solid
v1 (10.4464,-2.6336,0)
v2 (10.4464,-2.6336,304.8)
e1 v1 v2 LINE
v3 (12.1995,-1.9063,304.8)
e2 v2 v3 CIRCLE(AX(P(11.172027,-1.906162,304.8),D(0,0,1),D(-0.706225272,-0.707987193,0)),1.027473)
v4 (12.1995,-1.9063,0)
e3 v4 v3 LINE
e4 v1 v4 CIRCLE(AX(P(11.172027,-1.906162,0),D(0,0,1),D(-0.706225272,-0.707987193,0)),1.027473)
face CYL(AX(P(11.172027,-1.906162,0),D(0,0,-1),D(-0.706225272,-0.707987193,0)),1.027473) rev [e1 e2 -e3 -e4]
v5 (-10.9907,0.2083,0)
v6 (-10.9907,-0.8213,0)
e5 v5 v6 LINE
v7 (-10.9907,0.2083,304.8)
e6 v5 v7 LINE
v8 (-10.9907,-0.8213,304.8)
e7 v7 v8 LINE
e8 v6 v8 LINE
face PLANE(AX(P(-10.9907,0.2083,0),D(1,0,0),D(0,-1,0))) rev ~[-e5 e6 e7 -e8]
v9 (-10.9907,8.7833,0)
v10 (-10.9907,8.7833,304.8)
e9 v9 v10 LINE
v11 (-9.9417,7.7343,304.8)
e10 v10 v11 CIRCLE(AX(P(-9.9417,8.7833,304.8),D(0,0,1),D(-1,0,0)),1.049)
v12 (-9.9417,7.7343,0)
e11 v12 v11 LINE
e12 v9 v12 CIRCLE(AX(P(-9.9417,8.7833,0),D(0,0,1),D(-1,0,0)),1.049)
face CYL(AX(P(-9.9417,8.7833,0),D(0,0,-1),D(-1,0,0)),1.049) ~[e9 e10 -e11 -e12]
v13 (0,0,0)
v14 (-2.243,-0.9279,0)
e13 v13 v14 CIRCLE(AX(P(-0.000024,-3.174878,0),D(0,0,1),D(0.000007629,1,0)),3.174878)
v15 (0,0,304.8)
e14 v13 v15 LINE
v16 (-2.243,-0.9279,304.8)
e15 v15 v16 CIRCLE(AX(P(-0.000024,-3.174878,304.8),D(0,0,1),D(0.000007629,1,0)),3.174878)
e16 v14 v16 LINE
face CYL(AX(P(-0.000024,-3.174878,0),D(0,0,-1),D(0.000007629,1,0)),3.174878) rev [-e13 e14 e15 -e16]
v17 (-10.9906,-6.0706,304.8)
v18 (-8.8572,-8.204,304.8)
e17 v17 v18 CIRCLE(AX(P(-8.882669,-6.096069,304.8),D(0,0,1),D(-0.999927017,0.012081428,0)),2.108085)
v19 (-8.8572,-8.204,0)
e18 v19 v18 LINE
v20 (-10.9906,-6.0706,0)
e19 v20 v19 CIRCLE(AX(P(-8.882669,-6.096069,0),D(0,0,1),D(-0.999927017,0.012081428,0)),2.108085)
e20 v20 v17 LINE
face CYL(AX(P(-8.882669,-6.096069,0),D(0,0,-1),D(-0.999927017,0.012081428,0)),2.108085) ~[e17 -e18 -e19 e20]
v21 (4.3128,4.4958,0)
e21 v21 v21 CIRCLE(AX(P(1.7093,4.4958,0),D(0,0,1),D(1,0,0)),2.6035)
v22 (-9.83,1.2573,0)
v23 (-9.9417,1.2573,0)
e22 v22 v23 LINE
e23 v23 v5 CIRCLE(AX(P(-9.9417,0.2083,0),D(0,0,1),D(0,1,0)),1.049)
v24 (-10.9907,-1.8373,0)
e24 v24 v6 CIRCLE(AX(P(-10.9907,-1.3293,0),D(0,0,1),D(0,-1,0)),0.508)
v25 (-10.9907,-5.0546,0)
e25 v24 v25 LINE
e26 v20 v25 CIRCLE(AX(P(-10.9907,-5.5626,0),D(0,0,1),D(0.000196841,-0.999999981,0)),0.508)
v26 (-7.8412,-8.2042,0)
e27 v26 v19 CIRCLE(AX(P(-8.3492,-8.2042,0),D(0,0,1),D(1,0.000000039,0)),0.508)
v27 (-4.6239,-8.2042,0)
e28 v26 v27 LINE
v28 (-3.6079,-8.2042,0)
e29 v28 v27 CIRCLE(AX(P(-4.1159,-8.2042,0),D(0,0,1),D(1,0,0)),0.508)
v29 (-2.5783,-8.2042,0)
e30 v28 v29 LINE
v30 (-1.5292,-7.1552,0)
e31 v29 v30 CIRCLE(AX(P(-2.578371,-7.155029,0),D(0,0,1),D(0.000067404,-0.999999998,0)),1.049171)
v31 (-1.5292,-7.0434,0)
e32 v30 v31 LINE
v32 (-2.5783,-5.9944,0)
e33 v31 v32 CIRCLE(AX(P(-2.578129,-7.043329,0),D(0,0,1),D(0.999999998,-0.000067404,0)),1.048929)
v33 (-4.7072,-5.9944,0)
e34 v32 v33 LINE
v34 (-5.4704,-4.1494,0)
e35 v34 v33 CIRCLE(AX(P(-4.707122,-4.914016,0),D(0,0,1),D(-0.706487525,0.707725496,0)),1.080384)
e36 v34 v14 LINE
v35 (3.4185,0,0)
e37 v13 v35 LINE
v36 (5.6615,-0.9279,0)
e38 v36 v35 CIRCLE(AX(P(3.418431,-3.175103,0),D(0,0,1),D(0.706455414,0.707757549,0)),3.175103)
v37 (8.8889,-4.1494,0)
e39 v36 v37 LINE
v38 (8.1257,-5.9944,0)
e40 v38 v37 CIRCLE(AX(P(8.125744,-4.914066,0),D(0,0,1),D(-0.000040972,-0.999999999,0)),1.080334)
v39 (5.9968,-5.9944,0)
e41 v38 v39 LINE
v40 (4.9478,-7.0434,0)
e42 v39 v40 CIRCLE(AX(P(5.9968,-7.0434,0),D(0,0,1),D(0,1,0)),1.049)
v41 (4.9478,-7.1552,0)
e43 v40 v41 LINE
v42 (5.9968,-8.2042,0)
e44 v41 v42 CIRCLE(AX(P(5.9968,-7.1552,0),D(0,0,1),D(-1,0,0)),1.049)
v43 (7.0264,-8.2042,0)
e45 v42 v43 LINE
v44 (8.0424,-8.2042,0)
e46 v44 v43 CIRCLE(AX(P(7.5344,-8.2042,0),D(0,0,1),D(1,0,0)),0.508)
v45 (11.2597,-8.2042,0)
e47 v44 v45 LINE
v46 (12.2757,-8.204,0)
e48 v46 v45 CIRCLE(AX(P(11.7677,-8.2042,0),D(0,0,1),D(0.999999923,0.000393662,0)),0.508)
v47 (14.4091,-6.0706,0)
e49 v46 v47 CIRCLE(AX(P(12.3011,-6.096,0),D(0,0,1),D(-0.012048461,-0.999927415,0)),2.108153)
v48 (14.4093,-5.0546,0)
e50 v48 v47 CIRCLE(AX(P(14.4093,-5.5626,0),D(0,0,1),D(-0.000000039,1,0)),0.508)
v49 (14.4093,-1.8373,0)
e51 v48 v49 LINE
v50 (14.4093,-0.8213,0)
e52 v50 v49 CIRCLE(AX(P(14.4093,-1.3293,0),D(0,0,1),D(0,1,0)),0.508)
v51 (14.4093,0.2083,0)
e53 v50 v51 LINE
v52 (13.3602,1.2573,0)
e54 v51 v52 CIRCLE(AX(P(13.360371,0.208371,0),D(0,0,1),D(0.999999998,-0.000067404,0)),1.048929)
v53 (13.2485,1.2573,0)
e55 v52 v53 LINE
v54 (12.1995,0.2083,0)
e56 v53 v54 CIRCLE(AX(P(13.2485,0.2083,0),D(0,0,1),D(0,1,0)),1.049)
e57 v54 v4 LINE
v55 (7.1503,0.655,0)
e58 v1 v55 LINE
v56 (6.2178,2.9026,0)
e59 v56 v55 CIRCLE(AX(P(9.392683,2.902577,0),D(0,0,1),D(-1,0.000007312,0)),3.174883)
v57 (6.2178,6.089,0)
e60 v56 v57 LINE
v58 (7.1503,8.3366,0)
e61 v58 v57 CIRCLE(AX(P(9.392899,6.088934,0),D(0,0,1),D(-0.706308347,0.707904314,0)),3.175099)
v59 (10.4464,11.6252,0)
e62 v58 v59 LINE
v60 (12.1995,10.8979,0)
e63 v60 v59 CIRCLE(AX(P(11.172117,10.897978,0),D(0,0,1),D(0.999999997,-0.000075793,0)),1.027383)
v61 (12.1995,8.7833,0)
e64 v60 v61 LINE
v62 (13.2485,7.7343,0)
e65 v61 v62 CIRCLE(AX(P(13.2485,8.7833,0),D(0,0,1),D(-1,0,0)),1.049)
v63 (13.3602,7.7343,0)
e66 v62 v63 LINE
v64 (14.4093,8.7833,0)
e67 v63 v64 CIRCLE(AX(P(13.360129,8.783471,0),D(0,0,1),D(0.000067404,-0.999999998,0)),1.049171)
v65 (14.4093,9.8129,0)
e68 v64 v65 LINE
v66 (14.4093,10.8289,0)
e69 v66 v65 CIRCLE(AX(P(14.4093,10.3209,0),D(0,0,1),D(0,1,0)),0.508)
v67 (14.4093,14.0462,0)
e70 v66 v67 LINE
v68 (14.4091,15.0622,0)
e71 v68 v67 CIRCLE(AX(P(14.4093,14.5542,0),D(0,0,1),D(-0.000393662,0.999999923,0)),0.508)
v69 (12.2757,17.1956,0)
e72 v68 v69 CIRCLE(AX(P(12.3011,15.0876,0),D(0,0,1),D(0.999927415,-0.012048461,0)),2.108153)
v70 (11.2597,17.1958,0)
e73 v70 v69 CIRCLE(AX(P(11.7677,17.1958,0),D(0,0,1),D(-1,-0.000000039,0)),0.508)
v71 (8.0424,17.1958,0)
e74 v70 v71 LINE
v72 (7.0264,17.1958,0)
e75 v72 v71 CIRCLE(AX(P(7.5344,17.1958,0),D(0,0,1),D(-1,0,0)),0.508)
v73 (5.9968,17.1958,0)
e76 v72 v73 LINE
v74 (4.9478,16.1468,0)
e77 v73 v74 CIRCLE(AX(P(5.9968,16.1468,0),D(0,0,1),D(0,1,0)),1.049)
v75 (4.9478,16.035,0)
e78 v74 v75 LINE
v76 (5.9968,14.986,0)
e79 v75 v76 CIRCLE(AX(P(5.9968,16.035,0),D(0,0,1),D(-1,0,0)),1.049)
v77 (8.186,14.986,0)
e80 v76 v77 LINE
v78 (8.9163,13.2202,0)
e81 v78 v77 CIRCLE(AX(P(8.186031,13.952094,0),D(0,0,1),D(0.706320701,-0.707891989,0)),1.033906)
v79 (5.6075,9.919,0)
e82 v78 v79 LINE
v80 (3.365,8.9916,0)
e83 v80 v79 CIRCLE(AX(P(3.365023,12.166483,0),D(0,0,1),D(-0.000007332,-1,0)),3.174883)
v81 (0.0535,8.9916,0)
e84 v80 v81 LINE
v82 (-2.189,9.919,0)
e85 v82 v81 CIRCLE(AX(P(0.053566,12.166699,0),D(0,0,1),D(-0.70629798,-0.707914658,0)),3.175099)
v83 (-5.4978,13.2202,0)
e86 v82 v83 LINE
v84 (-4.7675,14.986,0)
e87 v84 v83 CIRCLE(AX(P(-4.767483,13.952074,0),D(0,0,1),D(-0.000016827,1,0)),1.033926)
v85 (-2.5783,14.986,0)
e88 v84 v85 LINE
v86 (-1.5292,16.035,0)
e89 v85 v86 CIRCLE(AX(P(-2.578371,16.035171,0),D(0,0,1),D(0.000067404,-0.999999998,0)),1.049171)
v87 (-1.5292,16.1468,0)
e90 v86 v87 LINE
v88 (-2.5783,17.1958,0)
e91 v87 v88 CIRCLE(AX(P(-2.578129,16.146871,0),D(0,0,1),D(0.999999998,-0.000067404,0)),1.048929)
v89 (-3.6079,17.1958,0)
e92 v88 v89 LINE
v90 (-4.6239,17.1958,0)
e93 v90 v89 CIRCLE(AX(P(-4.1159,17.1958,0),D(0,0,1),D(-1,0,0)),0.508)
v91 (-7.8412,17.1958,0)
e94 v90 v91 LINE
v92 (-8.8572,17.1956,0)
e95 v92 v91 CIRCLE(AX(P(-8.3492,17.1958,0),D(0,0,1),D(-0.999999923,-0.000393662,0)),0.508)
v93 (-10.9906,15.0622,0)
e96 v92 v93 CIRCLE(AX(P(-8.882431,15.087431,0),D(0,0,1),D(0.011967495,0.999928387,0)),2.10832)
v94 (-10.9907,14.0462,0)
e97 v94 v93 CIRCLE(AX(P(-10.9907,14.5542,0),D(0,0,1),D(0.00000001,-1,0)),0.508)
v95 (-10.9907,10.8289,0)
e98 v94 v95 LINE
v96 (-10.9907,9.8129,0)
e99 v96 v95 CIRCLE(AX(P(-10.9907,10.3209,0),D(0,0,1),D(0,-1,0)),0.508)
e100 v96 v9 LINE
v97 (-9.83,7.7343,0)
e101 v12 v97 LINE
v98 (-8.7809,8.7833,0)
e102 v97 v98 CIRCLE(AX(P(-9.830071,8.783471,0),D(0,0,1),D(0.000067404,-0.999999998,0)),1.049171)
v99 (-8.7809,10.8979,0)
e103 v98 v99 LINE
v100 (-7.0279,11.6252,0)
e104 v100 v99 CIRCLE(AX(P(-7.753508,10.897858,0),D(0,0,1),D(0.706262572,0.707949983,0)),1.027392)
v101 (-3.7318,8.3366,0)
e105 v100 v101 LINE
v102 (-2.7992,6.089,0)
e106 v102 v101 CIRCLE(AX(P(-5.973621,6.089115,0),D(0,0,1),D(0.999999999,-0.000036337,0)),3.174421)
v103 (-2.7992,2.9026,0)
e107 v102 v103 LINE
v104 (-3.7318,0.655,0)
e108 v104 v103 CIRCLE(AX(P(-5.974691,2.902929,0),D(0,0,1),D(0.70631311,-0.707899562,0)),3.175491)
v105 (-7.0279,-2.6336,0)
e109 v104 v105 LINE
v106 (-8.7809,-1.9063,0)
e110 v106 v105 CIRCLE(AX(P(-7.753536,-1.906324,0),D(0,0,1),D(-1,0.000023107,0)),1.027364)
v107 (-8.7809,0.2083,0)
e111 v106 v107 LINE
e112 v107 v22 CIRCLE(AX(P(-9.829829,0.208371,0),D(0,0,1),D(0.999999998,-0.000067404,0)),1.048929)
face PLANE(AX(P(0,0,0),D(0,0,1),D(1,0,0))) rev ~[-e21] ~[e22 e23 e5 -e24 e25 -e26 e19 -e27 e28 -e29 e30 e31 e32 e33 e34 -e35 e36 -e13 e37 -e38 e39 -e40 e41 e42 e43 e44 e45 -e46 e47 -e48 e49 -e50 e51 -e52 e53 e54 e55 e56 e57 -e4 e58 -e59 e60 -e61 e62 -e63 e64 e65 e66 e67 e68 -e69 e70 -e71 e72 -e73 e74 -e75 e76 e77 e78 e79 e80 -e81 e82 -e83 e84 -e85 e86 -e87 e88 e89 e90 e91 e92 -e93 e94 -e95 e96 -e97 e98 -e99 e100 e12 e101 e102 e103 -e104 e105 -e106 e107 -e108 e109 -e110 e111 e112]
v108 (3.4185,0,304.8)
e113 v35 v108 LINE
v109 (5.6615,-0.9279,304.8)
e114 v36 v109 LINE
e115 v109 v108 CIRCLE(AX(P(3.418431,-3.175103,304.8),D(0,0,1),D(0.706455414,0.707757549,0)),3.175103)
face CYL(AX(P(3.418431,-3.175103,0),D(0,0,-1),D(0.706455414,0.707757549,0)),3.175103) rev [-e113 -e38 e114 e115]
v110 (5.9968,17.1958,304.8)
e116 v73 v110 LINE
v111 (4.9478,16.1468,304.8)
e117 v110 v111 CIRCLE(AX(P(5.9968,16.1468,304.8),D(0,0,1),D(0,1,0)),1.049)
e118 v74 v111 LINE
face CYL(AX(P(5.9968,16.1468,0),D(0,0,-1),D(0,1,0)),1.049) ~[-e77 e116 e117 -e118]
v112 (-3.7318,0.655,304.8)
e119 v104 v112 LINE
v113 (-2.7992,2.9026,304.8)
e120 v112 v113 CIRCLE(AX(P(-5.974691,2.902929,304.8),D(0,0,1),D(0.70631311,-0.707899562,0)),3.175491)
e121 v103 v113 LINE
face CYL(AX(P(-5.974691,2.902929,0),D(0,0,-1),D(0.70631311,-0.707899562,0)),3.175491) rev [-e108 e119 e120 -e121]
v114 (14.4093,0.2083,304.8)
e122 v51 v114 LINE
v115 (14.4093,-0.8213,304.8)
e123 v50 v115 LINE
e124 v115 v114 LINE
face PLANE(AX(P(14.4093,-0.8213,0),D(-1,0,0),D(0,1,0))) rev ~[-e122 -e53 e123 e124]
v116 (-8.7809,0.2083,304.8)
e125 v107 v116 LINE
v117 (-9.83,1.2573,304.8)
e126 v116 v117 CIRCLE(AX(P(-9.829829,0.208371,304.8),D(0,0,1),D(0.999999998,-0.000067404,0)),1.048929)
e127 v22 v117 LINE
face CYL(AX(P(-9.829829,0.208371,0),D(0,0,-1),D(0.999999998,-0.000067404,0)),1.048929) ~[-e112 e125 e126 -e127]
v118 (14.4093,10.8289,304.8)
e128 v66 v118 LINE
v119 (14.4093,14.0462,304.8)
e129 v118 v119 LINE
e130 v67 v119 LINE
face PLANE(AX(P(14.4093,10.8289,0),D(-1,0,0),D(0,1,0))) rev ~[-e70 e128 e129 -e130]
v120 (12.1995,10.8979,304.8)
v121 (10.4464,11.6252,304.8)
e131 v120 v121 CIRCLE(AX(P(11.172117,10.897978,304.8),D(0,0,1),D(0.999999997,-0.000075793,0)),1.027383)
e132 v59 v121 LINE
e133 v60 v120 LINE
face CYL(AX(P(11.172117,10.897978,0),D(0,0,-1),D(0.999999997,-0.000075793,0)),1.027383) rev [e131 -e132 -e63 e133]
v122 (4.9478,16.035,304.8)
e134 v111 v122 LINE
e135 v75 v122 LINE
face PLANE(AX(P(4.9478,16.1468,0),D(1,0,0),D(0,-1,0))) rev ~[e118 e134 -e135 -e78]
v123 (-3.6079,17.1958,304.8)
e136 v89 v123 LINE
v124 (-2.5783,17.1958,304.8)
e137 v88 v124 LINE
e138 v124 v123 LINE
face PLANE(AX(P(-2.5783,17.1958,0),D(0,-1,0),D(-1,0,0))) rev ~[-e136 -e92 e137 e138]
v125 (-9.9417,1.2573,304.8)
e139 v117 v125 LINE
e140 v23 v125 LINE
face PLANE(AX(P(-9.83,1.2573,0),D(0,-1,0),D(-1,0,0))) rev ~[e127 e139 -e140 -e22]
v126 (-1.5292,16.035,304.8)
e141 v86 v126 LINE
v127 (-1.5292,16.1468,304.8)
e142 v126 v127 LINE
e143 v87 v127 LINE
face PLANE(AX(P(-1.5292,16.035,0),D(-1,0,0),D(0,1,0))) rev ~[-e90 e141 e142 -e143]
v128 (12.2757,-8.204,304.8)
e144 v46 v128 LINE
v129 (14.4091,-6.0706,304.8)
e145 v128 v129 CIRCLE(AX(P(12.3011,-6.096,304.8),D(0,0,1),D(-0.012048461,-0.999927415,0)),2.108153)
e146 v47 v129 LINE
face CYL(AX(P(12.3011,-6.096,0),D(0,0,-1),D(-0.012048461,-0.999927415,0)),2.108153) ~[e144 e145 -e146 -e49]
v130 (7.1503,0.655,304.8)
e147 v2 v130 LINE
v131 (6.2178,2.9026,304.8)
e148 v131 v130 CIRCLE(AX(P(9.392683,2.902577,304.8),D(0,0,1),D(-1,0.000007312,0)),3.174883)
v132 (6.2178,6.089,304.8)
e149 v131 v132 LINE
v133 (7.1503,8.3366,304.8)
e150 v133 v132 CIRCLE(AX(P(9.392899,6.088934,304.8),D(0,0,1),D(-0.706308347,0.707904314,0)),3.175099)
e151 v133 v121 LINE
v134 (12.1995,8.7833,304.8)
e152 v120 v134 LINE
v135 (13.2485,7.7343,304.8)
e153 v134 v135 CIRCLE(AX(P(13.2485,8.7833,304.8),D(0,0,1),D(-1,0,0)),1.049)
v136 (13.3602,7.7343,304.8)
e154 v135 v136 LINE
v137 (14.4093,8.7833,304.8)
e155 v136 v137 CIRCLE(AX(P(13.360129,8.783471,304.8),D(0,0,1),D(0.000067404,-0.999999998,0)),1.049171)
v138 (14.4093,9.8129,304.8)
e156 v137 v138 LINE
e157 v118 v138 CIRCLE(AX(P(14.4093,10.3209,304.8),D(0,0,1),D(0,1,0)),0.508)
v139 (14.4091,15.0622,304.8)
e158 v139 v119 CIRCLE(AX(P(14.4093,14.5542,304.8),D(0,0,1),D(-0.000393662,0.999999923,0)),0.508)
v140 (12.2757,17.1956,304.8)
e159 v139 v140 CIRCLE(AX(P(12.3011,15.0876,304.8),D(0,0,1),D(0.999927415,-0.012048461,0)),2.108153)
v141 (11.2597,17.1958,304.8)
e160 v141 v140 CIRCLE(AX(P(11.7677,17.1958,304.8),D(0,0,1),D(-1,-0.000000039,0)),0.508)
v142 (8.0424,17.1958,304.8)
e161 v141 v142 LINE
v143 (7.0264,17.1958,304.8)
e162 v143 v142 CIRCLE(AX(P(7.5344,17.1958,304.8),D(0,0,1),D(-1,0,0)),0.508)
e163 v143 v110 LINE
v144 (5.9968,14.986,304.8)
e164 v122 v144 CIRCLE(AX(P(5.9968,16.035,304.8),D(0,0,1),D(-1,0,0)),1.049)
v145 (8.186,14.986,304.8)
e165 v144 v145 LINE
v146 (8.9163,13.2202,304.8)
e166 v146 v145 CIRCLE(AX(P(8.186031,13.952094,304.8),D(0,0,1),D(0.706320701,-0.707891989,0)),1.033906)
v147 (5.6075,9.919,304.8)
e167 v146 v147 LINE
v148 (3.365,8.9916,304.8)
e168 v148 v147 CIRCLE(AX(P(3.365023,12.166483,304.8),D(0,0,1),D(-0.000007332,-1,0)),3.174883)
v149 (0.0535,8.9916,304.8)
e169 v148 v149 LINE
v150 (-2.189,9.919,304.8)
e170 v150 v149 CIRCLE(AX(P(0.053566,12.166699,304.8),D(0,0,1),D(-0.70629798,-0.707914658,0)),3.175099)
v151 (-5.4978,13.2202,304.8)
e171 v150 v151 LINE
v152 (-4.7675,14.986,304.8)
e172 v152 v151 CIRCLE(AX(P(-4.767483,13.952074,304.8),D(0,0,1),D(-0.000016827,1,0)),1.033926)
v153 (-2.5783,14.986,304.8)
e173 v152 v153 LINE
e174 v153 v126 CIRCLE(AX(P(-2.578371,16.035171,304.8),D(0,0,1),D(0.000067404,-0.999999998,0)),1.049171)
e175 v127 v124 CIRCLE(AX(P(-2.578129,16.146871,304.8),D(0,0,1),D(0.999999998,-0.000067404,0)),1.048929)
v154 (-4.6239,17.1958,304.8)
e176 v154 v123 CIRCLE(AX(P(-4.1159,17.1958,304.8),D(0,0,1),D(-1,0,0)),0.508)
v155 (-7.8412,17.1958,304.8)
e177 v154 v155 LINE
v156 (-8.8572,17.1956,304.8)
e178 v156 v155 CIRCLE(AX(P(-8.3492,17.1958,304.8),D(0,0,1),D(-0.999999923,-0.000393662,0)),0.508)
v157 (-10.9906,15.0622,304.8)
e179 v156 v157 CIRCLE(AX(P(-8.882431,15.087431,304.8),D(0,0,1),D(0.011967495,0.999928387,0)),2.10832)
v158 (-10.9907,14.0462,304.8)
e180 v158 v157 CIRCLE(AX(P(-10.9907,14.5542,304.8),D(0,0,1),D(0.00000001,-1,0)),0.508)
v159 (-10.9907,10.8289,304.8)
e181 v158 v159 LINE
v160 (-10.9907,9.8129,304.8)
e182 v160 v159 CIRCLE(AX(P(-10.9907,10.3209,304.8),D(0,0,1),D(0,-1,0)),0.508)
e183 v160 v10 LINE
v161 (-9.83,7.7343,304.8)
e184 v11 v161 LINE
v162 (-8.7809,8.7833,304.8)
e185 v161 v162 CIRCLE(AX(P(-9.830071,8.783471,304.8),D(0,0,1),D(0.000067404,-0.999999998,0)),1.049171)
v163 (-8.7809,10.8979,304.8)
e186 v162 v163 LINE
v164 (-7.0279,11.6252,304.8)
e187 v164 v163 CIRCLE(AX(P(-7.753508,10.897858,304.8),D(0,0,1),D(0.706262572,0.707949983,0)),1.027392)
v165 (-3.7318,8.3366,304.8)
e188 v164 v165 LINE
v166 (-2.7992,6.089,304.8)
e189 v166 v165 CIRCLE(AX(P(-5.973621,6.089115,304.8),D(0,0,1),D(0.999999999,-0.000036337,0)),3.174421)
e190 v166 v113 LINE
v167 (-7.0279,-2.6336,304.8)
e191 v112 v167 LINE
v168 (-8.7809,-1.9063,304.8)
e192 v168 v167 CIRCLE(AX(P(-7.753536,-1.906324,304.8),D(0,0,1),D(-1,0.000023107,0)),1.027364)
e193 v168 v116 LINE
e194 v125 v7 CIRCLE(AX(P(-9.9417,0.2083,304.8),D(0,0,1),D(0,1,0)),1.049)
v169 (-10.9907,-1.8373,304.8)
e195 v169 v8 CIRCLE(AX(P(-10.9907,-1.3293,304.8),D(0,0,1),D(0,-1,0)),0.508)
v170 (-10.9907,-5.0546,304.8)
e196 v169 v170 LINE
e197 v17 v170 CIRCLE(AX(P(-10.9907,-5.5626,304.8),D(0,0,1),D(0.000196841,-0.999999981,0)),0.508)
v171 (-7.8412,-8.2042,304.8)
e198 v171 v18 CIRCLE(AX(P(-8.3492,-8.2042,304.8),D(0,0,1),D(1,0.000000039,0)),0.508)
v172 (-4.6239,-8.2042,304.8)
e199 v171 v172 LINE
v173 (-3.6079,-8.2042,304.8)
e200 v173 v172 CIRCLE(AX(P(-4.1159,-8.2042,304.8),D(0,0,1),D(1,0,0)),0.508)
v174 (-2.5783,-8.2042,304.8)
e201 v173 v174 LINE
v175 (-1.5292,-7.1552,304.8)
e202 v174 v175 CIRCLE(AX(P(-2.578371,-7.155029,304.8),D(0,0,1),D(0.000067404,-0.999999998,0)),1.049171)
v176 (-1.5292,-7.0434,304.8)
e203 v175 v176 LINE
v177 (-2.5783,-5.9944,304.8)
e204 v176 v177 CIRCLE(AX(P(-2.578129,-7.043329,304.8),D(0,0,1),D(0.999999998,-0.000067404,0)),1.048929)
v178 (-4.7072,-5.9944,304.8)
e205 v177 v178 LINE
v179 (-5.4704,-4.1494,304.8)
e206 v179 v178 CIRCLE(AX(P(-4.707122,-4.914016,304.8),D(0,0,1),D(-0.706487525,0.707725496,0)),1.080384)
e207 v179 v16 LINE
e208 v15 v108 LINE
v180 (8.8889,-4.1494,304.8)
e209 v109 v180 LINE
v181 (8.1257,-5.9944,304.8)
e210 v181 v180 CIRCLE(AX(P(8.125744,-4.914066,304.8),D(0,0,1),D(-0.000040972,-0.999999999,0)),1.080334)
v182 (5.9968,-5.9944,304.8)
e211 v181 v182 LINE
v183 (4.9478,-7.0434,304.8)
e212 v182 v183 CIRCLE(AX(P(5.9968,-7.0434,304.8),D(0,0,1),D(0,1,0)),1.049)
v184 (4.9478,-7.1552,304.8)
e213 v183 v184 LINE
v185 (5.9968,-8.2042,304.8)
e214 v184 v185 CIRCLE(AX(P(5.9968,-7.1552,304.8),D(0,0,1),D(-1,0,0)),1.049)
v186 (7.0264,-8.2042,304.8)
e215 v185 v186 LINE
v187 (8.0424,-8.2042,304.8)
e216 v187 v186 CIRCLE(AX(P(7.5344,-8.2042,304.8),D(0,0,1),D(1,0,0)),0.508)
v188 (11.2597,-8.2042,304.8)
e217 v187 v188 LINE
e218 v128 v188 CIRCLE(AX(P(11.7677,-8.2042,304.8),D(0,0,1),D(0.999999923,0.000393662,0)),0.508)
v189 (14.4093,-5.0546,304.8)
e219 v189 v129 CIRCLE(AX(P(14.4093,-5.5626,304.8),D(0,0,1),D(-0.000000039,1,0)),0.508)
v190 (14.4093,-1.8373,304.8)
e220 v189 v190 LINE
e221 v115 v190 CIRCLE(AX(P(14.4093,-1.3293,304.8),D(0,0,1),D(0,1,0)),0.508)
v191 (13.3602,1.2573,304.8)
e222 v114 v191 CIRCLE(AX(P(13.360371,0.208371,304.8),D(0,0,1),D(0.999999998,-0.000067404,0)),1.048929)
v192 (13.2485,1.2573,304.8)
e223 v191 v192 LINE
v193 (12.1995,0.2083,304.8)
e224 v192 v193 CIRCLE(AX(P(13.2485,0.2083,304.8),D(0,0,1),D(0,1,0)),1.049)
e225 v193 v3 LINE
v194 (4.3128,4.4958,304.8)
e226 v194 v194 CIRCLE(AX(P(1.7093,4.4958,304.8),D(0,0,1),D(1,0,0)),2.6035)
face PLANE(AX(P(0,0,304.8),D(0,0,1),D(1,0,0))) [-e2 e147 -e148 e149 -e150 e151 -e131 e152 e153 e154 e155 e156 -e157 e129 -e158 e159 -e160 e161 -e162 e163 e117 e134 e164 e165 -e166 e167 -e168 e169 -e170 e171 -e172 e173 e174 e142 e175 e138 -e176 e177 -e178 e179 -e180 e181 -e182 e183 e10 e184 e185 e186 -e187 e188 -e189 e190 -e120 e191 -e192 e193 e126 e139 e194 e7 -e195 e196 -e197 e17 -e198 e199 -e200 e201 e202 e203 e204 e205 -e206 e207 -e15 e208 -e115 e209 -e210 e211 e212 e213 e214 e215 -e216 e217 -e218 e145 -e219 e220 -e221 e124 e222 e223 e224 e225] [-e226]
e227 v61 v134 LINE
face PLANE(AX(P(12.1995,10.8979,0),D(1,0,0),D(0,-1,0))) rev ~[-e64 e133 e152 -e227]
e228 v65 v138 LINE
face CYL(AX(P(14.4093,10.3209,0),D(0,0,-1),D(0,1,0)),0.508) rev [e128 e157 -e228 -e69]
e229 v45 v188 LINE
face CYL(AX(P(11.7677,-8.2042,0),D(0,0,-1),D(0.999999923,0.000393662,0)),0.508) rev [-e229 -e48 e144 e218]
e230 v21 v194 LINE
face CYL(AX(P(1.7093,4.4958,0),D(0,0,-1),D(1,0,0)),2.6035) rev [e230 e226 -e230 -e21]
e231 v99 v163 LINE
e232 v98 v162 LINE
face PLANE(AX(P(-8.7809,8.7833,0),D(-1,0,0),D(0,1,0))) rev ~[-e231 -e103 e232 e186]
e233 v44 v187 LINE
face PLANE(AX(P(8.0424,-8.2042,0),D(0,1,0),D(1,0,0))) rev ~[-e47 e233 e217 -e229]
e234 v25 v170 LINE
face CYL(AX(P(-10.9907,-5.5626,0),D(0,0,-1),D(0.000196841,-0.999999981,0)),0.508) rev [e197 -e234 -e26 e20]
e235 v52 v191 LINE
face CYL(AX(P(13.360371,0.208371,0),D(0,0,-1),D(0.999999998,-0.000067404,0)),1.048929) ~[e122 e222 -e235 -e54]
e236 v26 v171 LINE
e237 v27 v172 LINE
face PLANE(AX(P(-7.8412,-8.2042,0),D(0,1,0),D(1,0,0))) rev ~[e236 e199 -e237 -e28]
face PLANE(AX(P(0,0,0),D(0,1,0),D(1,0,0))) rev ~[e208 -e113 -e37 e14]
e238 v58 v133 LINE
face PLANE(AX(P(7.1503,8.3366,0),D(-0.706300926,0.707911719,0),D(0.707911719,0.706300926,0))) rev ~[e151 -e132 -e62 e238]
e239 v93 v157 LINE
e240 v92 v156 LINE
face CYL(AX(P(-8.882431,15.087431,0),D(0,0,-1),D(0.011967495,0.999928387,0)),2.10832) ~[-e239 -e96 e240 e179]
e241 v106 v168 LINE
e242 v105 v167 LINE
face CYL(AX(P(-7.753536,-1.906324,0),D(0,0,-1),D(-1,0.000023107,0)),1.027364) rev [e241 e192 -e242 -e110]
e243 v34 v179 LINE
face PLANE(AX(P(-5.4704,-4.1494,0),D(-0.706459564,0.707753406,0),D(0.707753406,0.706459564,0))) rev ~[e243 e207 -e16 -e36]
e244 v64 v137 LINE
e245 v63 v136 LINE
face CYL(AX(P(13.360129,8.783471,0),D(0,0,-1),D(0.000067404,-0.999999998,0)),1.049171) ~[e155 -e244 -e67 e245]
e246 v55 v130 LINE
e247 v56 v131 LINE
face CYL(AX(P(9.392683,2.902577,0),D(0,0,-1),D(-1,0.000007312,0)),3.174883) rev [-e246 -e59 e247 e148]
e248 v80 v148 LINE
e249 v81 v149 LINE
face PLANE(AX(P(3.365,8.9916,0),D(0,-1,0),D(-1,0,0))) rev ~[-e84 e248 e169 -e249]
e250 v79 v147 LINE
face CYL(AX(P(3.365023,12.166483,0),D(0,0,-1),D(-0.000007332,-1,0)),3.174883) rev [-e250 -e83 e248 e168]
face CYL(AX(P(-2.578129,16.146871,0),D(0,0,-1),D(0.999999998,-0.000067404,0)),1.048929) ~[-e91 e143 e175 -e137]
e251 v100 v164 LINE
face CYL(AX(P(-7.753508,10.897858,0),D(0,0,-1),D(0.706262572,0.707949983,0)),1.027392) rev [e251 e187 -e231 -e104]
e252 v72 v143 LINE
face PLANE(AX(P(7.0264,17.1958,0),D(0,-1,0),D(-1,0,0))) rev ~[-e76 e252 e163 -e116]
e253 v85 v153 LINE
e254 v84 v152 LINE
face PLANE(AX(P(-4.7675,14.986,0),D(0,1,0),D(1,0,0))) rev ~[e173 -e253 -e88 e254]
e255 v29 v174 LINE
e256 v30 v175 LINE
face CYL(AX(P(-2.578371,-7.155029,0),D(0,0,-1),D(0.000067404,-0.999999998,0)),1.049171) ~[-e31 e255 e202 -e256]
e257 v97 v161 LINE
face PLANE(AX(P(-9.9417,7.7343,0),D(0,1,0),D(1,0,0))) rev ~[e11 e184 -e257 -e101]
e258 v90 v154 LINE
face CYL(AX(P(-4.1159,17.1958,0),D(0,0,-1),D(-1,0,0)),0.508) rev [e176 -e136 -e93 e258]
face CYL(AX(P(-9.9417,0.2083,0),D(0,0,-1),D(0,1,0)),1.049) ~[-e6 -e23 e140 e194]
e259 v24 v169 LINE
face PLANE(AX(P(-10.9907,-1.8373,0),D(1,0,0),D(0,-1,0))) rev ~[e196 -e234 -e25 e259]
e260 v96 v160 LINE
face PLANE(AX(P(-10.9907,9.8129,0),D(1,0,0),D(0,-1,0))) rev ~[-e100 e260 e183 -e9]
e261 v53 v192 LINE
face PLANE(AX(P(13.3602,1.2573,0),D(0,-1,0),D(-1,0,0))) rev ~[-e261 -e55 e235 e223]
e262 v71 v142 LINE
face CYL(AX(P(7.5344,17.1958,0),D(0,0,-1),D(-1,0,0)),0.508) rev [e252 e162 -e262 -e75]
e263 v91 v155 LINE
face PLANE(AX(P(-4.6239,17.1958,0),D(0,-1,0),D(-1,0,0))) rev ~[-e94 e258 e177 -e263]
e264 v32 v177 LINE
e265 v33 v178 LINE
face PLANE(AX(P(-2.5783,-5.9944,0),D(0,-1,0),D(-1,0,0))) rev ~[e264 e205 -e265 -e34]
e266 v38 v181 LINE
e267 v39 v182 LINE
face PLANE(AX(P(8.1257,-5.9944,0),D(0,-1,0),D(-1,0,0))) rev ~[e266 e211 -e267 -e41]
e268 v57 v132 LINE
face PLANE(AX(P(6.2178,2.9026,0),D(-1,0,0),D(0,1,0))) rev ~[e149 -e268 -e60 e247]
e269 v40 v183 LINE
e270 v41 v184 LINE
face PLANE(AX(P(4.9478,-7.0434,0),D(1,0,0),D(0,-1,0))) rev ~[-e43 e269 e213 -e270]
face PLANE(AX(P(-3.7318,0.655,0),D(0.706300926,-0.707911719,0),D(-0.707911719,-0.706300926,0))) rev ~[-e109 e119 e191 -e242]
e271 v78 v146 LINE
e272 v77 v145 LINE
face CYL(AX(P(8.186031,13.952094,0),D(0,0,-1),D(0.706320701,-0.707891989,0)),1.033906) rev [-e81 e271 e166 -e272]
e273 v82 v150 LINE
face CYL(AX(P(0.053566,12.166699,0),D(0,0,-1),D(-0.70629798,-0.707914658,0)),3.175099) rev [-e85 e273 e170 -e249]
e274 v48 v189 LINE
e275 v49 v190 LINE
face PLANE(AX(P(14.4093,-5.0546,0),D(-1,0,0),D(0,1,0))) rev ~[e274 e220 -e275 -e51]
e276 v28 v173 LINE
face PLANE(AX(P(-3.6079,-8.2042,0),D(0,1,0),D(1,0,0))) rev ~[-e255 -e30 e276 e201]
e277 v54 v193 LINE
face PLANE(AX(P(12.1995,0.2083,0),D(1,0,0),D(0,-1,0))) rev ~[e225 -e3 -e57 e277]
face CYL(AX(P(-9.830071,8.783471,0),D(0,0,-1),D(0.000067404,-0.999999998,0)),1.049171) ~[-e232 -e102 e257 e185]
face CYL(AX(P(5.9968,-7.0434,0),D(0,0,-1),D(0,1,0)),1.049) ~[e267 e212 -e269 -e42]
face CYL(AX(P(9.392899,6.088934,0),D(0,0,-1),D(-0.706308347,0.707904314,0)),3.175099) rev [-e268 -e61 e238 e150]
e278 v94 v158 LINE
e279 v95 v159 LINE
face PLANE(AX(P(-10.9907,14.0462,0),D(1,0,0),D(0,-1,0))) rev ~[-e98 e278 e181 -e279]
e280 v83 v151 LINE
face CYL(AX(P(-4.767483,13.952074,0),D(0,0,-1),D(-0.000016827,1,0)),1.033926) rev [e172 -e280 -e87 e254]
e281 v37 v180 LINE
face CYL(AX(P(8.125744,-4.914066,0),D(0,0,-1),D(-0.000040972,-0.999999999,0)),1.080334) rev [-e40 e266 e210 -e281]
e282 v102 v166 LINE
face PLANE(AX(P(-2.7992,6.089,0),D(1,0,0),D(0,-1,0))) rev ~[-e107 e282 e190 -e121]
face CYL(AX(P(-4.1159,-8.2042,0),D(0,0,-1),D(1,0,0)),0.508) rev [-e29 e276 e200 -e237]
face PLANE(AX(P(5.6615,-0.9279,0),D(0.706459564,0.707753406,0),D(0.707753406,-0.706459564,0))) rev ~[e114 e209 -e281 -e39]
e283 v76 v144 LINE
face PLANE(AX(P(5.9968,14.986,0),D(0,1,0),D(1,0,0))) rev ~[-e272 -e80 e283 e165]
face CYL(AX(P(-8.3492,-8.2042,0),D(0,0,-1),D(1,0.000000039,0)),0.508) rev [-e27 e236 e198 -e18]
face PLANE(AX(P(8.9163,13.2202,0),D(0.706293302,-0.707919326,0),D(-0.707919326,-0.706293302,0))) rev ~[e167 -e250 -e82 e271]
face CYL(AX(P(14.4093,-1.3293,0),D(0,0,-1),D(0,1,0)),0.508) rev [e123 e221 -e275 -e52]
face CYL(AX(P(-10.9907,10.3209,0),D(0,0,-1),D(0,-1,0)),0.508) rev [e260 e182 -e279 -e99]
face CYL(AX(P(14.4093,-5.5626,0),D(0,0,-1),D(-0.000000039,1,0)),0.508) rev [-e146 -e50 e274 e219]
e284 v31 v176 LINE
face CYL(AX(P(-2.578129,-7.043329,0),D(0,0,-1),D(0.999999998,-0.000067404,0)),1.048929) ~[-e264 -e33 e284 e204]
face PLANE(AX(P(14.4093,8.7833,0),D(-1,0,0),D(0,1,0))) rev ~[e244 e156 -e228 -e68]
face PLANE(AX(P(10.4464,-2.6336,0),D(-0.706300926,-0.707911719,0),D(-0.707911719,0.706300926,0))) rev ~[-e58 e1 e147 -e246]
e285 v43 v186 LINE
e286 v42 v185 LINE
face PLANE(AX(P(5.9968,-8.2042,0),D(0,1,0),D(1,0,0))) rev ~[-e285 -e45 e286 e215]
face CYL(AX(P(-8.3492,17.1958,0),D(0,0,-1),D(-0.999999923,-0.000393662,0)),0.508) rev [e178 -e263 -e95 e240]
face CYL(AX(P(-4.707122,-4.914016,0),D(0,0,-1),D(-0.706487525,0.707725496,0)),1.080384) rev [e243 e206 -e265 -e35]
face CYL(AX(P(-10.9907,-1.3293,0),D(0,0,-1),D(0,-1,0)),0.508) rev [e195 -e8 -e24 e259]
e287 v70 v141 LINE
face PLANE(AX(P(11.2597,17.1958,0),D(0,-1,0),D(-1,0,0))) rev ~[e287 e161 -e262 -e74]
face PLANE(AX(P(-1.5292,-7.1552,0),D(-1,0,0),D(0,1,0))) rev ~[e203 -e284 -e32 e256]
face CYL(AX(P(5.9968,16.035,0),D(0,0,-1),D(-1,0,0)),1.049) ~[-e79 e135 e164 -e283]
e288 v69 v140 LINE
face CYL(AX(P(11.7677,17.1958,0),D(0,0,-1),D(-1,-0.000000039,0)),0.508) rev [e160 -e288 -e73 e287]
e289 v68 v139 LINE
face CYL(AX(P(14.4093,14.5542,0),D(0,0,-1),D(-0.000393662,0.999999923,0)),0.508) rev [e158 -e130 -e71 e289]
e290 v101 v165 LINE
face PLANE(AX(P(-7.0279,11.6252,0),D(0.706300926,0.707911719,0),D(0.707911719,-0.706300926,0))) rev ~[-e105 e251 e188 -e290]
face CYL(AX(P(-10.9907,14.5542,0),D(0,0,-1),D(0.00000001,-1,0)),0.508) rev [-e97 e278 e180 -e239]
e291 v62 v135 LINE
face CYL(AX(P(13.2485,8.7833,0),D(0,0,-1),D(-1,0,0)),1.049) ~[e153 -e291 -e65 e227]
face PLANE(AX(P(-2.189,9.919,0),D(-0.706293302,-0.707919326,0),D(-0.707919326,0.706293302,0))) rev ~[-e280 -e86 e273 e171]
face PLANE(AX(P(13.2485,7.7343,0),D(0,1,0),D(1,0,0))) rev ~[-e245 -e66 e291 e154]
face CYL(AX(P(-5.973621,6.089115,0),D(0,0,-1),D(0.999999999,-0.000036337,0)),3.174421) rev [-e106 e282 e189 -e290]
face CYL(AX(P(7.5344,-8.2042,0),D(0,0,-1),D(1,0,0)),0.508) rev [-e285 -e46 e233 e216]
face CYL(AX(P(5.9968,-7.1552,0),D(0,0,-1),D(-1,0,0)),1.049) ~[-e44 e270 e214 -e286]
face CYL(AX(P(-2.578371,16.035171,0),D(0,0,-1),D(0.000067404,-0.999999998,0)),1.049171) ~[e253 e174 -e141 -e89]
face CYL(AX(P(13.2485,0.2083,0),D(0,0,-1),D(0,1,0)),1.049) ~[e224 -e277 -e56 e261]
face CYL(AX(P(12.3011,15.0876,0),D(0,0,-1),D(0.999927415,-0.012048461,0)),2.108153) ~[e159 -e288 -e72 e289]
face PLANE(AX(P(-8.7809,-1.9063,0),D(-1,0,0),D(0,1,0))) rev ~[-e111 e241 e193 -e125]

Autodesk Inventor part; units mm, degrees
ref_plane "YZ Plane" through (0, 0, 0) normal (1, 0, 0) x (0, 1, 0)
ref_plane "XZ Plane" through (0, 0, 0) normal (0, 1, 0) x (-1, 0, 0)
ref_plane "XY Plane" through (0, 0, 0) normal (0, 0, 1) x (1, 0, 0)
sketch "Sketch1" plane through (0, 0, 0) normal (0, 0, 1) x (1, 0, 0)
  arc A0 (-5.4704, -4.1494) -> (-4.7072, -5.9944) centre (-4.7072, -4.914) ccw
  line L0 (-5.4704, -4.1494) -> (-2.243, -0.9279)
  arc A1 (0, 0) -> (-2.243, -0.9279) centre (0, -3.175) ccw
  line L1 (0, 0) -> (3.4185, 0)
  arc A2 (5.6615, -0.9279) -> (3.4185, 0) centre (3.4185, -3.175) ccw
  line L2 (5.6615, -0.9279) -> (8.8889, -4.1494)
  arc A3 (8.1257, -5.9944) -> (8.8889, -4.1494) centre (8.1257, -4.914) ccw
  line L3 (8.1257, -5.9944) -> (5.9968, -5.9944)
  arc A4 (5.9968, -5.9944) -> (4.9478, -7.0434) centre (5.9968, -7.0434) ccw
  line L4 (4.9478, -7.0434) -> (4.9478, -7.1552)
  arc A5 (4.9478, -7.1552) -> (5.9968, -8.2042) centre (5.9968, -7.1552) ccw
  line L5 (5.9968, -8.2042) -> (7.0264, -8.2042)
  arc A6 (8.0424, -8.2042) -> (7.0264, -8.2042) centre (7.5344, -8.2042) ccw
  line L6 (8.0424, -8.2042) -> (11.2597, -8.2042)
  arc A7 (12.2757, -8.204) -> (11.2597, -8.2042) centre (11.7677, -8.2042) ccw
  arc A8 (12.2757, -8.204) -> (14.4091, -6.0706) centre (12.3011, -6.096) ccw
  arc A9 (14.4093, -5.0546) -> (14.4091, -6.0706) centre (14.4093, -5.5626) ccw
  line L7 (14.4093, -5.0546) -> (14.4093, -1.8373)
  arc A10 (14.4093, -0.8213) -> (14.4093, -1.8373) centre (14.4093, -1.3293) ccw
  line L8 (14.4093, -0.8213) -> (14.4093, 0.2083)
  arc A11 (14.4093, 0.2083) -> (13.3602, 1.2573) centre (13.3602, 0.2083) ccw
  line L9 (13.3602, 1.2573) -> (13.2485, 1.2573)
  arc A12 (13.2485, 1.2573) -> (12.1995, 0.2083) centre (13.2485, 0.2083) ccw
  line L10 (12.1995, 0.2083) -> (12.1995, -1.9063)
  arc A13 (10.4464, -2.6336) -> (12.1995, -1.9063) centre (11.172, -1.9063) ccw
  line L11 (10.4464, -2.6336) -> (7.1503, 0.655)
  arc A14 (6.2178, 2.9026) -> (7.1503, 0.655) centre (9.3928, 2.9026) ccw
  line L12 (6.2178, 2.9026) -> (6.2178, 6.089)
  arc A15 (7.1503, 8.3366) -> (6.2178, 6.089) centre (9.3928, 6.089) ccw
  line L13 (7.1503, 8.3366) -> (10.4464, 11.6252)
  arc A16 (12.1995, 10.8979) -> (10.4464, 11.6252) centre (11.172, 10.8979) ccw
  line L14 (12.1995, 10.8979) -> (12.1995, 8.7833)
  arc A17 (12.1995, 8.7833) -> (13.2485, 7.7343) centre (13.2485, 8.7833) ccw
  line L15 (13.2485, 7.7343) -> (13.3602, 7.7343)
  arc A18 (13.3602, 7.7343) -> (14.4093, 8.7833) centre (13.3602, 8.7833) ccw
  line L16 (14.4093, 8.7833) -> (14.4093, 9.8129)
  arc A19 (14.4093, 10.8289) -> (14.4093, 9.8129) centre (14.4093, 10.3209) ccw
  line L17 (14.4093, 10.8289) -> (14.4093, 14.0462)
  arc A20 (14.4091, 15.0622) -> (14.4093, 14.0462) centre (14.4093, 14.5542) ccw
  arc A21 (14.4091, 15.0622) -> (12.2757, 17.1956) centre (12.3011, 15.0876) ccw
  arc A22 (11.2597, 17.1958) -> (12.2757, 17.1956) centre (11.7677, 17.1958) ccw
  line L18 (11.2597, 17.1958) -> (8.0424, 17.1958)
  arc A23 (7.0264, 17.1958) -> (8.0424, 17.1958) centre (7.5344, 17.1958) ccw
  line L19 (7.0264, 17.1958) -> (5.9968, 17.1958)
  arc A24 (5.9968, 17.1958) -> (4.9478, 16.1468) centre (5.9968, 16.1468) ccw
  line L20 (4.9478, 16.1468) -> (4.9478, 16.035)
  arc A25 (4.9478, 16.035) -> (5.9968, 14.986) centre (5.9968, 16.035) ccw
  line L21 (5.9968, 14.986) -> (8.186, 14.986)
  arc A26 (8.9163, 13.2202) -> (8.186, 14.986) centre (8.186, 13.9521) ccw
  line L22 (8.9163, 13.2202) -> (5.6075, 9.919)
  arc A27 (3.365, 8.9916) -> (5.6075, 9.919) centre (3.365, 12.1666) ccw
  line L23 (3.365, 8.9916) -> (0.0535, 8.9916)
  arc A28 (-2.189, 9.919) -> (0.0535, 8.9916) centre (0.0535, 12.1666) ccw
  line L24 (-2.189, 9.919) -> (-5.4978, 13.2202)
  arc A29 (-4.7675, 14.986) -> (-5.4978, 13.2202) centre (-4.7675, 13.9521) ccw
  line L25 (-4.7675, 14.986) -> (-2.5783, 14.986)
  arc A30 (-2.5783, 14.986) -> (-1.5292, 16.035) centre (-2.5783, 16.035) ccw
  line L26 (-1.5292, 16.035) -> (-1.5292, 16.1468)
  arc A31 (-1.5292, 16.1468) -> (-2.5783, 17.1958) centre (-2.5783, 16.1468) ccw
  line L27 (-2.5783, 17.1958) -> (-3.6079, 17.1958)
  arc A32 (-4.6239, 17.1958) -> (-3.6079, 17.1958) centre (-4.1159, 17.1958) ccw
  line L28 (-4.6239, 17.1958) -> (-7.8412, 17.1958)
  arc A33 (-8.8572, 17.1956) -> (-7.8412, 17.1958) centre (-8.3492, 17.1958) ccw
  arc A34 (-8.8572, 17.1956) -> (-10.9906, 15.0622) centre (-8.8825, 15.0876) ccw
  arc A35 (-10.9907, 14.0462) -> (-10.9906, 15.0622) centre (-10.9907, 14.5542) ccw
  line L29 (-10.9907, 14.0462) -> (-10.9907, 10.8289)
  arc A36 (-10.9907, 9.8129) -> (-10.9907, 10.8289) centre (-10.9907, 10.3209) ccw
  line L30 (-10.9907, 9.8129) -> (-10.9907, 8.7833)
  arc A37 (-10.9907, 8.7833) -> (-9.9417, 7.7343) centre (-9.9417, 8.7833) ccw
  line L31 (-9.9417, 7.7343) -> (-9.83, 7.7343)
  arc A38 (-9.83, 7.7343) -> (-8.7809, 8.7833) centre (-9.83, 8.7833) ccw
  line L32 (-8.7809, 8.7833) -> (-8.7809, 10.8979)
  arc A39 (-7.0279, 11.6252) -> (-8.7809, 10.8979) centre (-7.7535, 10.8979) ccw
  line L33 (-7.0279, 11.6252) -> (-3.7318, 8.3366)
  arc A40 (-2.7992, 6.089) -> (-3.7318, 8.3366) centre (-5.9742, 6.089) ccw
  line L34 (-2.7992, 6.089) -> (-2.7992, 2.9026)
  arc A41 (-3.7318, 0.655) -> (-2.7992, 2.9026) centre (-5.9742, 2.9026) ccw
  line L35 (-3.7318, 0.655) -> (-7.0279, -2.6336)
  arc A42 (-8.7809, -1.9063) -> (-7.0279, -2.6336) centre (-7.7535, -1.9063) ccw
  line L36 (-8.7809, -1.9063) -> (-8.7809, 0.2083)
  arc A43 (-8.7809, 0.2083) -> (-9.83, 1.2573) centre (-9.83, 0.2083) ccw
  line L37 (-9.83, 1.2573) -> (-9.9417, 1.2573)
  arc A44 (-9.9417, 1.2573) -> (-10.9907, 0.2083) centre (-9.9417, 0.2083) ccw
  line L38 (-10.9907, 0.2083) -> (-10.9907, -0.8213)
  arc A45 (-10.9907, -1.8373) -> (-10.9907, -0.8213) centre (-10.9907, -1.3293) ccw
  line L39 (-10.9907, -1.8373) -> (-10.9907, -5.0546)
  arc A46 (-10.9906, -6.0706) -> (-10.9907, -5.0546) centre (-10.9907, -5.5626) ccw
  arc A47 (-10.9906, -6.0706) -> (-8.8572, -8.204) centre (-8.8825, -6.096) ccw
  arc A48 (-7.8412, -8.2042) -> (-8.8572, -8.204) centre (-8.3492, -8.2042) ccw
  line L40 (-7.8412, -8.2042) -> (-4.6239, -8.2042)
  arc A49 (-3.6079, -8.2042) -> (-4.6239, -8.2042) centre (-4.1159, -8.2042) ccw
  line L41 (-3.6079, -8.2042) -> (-2.5783, -8.2042)
  arc A50 (-2.5783, -8.2042) -> (-1.5292, -7.1552) centre (-2.5783, -7.1552) ccw
  line L42 (-1.5292, -7.1552) -> (-1.5292, -7.0434)
  arc A51 (-1.5292, -7.0434) -> (-2.5783, -5.9944) centre (-2.5783, -7.0434) ccw
  line L43 (-2.5783, -5.9944) -> (-4.7072, -5.9944)
  circle A52 centre (1.7093, 4.4958) radius 2.6035
extrude "Extrusion1" add sketch "Sketch1" along normal blind 304.8
properties part number "12in 1x1 T slot"
